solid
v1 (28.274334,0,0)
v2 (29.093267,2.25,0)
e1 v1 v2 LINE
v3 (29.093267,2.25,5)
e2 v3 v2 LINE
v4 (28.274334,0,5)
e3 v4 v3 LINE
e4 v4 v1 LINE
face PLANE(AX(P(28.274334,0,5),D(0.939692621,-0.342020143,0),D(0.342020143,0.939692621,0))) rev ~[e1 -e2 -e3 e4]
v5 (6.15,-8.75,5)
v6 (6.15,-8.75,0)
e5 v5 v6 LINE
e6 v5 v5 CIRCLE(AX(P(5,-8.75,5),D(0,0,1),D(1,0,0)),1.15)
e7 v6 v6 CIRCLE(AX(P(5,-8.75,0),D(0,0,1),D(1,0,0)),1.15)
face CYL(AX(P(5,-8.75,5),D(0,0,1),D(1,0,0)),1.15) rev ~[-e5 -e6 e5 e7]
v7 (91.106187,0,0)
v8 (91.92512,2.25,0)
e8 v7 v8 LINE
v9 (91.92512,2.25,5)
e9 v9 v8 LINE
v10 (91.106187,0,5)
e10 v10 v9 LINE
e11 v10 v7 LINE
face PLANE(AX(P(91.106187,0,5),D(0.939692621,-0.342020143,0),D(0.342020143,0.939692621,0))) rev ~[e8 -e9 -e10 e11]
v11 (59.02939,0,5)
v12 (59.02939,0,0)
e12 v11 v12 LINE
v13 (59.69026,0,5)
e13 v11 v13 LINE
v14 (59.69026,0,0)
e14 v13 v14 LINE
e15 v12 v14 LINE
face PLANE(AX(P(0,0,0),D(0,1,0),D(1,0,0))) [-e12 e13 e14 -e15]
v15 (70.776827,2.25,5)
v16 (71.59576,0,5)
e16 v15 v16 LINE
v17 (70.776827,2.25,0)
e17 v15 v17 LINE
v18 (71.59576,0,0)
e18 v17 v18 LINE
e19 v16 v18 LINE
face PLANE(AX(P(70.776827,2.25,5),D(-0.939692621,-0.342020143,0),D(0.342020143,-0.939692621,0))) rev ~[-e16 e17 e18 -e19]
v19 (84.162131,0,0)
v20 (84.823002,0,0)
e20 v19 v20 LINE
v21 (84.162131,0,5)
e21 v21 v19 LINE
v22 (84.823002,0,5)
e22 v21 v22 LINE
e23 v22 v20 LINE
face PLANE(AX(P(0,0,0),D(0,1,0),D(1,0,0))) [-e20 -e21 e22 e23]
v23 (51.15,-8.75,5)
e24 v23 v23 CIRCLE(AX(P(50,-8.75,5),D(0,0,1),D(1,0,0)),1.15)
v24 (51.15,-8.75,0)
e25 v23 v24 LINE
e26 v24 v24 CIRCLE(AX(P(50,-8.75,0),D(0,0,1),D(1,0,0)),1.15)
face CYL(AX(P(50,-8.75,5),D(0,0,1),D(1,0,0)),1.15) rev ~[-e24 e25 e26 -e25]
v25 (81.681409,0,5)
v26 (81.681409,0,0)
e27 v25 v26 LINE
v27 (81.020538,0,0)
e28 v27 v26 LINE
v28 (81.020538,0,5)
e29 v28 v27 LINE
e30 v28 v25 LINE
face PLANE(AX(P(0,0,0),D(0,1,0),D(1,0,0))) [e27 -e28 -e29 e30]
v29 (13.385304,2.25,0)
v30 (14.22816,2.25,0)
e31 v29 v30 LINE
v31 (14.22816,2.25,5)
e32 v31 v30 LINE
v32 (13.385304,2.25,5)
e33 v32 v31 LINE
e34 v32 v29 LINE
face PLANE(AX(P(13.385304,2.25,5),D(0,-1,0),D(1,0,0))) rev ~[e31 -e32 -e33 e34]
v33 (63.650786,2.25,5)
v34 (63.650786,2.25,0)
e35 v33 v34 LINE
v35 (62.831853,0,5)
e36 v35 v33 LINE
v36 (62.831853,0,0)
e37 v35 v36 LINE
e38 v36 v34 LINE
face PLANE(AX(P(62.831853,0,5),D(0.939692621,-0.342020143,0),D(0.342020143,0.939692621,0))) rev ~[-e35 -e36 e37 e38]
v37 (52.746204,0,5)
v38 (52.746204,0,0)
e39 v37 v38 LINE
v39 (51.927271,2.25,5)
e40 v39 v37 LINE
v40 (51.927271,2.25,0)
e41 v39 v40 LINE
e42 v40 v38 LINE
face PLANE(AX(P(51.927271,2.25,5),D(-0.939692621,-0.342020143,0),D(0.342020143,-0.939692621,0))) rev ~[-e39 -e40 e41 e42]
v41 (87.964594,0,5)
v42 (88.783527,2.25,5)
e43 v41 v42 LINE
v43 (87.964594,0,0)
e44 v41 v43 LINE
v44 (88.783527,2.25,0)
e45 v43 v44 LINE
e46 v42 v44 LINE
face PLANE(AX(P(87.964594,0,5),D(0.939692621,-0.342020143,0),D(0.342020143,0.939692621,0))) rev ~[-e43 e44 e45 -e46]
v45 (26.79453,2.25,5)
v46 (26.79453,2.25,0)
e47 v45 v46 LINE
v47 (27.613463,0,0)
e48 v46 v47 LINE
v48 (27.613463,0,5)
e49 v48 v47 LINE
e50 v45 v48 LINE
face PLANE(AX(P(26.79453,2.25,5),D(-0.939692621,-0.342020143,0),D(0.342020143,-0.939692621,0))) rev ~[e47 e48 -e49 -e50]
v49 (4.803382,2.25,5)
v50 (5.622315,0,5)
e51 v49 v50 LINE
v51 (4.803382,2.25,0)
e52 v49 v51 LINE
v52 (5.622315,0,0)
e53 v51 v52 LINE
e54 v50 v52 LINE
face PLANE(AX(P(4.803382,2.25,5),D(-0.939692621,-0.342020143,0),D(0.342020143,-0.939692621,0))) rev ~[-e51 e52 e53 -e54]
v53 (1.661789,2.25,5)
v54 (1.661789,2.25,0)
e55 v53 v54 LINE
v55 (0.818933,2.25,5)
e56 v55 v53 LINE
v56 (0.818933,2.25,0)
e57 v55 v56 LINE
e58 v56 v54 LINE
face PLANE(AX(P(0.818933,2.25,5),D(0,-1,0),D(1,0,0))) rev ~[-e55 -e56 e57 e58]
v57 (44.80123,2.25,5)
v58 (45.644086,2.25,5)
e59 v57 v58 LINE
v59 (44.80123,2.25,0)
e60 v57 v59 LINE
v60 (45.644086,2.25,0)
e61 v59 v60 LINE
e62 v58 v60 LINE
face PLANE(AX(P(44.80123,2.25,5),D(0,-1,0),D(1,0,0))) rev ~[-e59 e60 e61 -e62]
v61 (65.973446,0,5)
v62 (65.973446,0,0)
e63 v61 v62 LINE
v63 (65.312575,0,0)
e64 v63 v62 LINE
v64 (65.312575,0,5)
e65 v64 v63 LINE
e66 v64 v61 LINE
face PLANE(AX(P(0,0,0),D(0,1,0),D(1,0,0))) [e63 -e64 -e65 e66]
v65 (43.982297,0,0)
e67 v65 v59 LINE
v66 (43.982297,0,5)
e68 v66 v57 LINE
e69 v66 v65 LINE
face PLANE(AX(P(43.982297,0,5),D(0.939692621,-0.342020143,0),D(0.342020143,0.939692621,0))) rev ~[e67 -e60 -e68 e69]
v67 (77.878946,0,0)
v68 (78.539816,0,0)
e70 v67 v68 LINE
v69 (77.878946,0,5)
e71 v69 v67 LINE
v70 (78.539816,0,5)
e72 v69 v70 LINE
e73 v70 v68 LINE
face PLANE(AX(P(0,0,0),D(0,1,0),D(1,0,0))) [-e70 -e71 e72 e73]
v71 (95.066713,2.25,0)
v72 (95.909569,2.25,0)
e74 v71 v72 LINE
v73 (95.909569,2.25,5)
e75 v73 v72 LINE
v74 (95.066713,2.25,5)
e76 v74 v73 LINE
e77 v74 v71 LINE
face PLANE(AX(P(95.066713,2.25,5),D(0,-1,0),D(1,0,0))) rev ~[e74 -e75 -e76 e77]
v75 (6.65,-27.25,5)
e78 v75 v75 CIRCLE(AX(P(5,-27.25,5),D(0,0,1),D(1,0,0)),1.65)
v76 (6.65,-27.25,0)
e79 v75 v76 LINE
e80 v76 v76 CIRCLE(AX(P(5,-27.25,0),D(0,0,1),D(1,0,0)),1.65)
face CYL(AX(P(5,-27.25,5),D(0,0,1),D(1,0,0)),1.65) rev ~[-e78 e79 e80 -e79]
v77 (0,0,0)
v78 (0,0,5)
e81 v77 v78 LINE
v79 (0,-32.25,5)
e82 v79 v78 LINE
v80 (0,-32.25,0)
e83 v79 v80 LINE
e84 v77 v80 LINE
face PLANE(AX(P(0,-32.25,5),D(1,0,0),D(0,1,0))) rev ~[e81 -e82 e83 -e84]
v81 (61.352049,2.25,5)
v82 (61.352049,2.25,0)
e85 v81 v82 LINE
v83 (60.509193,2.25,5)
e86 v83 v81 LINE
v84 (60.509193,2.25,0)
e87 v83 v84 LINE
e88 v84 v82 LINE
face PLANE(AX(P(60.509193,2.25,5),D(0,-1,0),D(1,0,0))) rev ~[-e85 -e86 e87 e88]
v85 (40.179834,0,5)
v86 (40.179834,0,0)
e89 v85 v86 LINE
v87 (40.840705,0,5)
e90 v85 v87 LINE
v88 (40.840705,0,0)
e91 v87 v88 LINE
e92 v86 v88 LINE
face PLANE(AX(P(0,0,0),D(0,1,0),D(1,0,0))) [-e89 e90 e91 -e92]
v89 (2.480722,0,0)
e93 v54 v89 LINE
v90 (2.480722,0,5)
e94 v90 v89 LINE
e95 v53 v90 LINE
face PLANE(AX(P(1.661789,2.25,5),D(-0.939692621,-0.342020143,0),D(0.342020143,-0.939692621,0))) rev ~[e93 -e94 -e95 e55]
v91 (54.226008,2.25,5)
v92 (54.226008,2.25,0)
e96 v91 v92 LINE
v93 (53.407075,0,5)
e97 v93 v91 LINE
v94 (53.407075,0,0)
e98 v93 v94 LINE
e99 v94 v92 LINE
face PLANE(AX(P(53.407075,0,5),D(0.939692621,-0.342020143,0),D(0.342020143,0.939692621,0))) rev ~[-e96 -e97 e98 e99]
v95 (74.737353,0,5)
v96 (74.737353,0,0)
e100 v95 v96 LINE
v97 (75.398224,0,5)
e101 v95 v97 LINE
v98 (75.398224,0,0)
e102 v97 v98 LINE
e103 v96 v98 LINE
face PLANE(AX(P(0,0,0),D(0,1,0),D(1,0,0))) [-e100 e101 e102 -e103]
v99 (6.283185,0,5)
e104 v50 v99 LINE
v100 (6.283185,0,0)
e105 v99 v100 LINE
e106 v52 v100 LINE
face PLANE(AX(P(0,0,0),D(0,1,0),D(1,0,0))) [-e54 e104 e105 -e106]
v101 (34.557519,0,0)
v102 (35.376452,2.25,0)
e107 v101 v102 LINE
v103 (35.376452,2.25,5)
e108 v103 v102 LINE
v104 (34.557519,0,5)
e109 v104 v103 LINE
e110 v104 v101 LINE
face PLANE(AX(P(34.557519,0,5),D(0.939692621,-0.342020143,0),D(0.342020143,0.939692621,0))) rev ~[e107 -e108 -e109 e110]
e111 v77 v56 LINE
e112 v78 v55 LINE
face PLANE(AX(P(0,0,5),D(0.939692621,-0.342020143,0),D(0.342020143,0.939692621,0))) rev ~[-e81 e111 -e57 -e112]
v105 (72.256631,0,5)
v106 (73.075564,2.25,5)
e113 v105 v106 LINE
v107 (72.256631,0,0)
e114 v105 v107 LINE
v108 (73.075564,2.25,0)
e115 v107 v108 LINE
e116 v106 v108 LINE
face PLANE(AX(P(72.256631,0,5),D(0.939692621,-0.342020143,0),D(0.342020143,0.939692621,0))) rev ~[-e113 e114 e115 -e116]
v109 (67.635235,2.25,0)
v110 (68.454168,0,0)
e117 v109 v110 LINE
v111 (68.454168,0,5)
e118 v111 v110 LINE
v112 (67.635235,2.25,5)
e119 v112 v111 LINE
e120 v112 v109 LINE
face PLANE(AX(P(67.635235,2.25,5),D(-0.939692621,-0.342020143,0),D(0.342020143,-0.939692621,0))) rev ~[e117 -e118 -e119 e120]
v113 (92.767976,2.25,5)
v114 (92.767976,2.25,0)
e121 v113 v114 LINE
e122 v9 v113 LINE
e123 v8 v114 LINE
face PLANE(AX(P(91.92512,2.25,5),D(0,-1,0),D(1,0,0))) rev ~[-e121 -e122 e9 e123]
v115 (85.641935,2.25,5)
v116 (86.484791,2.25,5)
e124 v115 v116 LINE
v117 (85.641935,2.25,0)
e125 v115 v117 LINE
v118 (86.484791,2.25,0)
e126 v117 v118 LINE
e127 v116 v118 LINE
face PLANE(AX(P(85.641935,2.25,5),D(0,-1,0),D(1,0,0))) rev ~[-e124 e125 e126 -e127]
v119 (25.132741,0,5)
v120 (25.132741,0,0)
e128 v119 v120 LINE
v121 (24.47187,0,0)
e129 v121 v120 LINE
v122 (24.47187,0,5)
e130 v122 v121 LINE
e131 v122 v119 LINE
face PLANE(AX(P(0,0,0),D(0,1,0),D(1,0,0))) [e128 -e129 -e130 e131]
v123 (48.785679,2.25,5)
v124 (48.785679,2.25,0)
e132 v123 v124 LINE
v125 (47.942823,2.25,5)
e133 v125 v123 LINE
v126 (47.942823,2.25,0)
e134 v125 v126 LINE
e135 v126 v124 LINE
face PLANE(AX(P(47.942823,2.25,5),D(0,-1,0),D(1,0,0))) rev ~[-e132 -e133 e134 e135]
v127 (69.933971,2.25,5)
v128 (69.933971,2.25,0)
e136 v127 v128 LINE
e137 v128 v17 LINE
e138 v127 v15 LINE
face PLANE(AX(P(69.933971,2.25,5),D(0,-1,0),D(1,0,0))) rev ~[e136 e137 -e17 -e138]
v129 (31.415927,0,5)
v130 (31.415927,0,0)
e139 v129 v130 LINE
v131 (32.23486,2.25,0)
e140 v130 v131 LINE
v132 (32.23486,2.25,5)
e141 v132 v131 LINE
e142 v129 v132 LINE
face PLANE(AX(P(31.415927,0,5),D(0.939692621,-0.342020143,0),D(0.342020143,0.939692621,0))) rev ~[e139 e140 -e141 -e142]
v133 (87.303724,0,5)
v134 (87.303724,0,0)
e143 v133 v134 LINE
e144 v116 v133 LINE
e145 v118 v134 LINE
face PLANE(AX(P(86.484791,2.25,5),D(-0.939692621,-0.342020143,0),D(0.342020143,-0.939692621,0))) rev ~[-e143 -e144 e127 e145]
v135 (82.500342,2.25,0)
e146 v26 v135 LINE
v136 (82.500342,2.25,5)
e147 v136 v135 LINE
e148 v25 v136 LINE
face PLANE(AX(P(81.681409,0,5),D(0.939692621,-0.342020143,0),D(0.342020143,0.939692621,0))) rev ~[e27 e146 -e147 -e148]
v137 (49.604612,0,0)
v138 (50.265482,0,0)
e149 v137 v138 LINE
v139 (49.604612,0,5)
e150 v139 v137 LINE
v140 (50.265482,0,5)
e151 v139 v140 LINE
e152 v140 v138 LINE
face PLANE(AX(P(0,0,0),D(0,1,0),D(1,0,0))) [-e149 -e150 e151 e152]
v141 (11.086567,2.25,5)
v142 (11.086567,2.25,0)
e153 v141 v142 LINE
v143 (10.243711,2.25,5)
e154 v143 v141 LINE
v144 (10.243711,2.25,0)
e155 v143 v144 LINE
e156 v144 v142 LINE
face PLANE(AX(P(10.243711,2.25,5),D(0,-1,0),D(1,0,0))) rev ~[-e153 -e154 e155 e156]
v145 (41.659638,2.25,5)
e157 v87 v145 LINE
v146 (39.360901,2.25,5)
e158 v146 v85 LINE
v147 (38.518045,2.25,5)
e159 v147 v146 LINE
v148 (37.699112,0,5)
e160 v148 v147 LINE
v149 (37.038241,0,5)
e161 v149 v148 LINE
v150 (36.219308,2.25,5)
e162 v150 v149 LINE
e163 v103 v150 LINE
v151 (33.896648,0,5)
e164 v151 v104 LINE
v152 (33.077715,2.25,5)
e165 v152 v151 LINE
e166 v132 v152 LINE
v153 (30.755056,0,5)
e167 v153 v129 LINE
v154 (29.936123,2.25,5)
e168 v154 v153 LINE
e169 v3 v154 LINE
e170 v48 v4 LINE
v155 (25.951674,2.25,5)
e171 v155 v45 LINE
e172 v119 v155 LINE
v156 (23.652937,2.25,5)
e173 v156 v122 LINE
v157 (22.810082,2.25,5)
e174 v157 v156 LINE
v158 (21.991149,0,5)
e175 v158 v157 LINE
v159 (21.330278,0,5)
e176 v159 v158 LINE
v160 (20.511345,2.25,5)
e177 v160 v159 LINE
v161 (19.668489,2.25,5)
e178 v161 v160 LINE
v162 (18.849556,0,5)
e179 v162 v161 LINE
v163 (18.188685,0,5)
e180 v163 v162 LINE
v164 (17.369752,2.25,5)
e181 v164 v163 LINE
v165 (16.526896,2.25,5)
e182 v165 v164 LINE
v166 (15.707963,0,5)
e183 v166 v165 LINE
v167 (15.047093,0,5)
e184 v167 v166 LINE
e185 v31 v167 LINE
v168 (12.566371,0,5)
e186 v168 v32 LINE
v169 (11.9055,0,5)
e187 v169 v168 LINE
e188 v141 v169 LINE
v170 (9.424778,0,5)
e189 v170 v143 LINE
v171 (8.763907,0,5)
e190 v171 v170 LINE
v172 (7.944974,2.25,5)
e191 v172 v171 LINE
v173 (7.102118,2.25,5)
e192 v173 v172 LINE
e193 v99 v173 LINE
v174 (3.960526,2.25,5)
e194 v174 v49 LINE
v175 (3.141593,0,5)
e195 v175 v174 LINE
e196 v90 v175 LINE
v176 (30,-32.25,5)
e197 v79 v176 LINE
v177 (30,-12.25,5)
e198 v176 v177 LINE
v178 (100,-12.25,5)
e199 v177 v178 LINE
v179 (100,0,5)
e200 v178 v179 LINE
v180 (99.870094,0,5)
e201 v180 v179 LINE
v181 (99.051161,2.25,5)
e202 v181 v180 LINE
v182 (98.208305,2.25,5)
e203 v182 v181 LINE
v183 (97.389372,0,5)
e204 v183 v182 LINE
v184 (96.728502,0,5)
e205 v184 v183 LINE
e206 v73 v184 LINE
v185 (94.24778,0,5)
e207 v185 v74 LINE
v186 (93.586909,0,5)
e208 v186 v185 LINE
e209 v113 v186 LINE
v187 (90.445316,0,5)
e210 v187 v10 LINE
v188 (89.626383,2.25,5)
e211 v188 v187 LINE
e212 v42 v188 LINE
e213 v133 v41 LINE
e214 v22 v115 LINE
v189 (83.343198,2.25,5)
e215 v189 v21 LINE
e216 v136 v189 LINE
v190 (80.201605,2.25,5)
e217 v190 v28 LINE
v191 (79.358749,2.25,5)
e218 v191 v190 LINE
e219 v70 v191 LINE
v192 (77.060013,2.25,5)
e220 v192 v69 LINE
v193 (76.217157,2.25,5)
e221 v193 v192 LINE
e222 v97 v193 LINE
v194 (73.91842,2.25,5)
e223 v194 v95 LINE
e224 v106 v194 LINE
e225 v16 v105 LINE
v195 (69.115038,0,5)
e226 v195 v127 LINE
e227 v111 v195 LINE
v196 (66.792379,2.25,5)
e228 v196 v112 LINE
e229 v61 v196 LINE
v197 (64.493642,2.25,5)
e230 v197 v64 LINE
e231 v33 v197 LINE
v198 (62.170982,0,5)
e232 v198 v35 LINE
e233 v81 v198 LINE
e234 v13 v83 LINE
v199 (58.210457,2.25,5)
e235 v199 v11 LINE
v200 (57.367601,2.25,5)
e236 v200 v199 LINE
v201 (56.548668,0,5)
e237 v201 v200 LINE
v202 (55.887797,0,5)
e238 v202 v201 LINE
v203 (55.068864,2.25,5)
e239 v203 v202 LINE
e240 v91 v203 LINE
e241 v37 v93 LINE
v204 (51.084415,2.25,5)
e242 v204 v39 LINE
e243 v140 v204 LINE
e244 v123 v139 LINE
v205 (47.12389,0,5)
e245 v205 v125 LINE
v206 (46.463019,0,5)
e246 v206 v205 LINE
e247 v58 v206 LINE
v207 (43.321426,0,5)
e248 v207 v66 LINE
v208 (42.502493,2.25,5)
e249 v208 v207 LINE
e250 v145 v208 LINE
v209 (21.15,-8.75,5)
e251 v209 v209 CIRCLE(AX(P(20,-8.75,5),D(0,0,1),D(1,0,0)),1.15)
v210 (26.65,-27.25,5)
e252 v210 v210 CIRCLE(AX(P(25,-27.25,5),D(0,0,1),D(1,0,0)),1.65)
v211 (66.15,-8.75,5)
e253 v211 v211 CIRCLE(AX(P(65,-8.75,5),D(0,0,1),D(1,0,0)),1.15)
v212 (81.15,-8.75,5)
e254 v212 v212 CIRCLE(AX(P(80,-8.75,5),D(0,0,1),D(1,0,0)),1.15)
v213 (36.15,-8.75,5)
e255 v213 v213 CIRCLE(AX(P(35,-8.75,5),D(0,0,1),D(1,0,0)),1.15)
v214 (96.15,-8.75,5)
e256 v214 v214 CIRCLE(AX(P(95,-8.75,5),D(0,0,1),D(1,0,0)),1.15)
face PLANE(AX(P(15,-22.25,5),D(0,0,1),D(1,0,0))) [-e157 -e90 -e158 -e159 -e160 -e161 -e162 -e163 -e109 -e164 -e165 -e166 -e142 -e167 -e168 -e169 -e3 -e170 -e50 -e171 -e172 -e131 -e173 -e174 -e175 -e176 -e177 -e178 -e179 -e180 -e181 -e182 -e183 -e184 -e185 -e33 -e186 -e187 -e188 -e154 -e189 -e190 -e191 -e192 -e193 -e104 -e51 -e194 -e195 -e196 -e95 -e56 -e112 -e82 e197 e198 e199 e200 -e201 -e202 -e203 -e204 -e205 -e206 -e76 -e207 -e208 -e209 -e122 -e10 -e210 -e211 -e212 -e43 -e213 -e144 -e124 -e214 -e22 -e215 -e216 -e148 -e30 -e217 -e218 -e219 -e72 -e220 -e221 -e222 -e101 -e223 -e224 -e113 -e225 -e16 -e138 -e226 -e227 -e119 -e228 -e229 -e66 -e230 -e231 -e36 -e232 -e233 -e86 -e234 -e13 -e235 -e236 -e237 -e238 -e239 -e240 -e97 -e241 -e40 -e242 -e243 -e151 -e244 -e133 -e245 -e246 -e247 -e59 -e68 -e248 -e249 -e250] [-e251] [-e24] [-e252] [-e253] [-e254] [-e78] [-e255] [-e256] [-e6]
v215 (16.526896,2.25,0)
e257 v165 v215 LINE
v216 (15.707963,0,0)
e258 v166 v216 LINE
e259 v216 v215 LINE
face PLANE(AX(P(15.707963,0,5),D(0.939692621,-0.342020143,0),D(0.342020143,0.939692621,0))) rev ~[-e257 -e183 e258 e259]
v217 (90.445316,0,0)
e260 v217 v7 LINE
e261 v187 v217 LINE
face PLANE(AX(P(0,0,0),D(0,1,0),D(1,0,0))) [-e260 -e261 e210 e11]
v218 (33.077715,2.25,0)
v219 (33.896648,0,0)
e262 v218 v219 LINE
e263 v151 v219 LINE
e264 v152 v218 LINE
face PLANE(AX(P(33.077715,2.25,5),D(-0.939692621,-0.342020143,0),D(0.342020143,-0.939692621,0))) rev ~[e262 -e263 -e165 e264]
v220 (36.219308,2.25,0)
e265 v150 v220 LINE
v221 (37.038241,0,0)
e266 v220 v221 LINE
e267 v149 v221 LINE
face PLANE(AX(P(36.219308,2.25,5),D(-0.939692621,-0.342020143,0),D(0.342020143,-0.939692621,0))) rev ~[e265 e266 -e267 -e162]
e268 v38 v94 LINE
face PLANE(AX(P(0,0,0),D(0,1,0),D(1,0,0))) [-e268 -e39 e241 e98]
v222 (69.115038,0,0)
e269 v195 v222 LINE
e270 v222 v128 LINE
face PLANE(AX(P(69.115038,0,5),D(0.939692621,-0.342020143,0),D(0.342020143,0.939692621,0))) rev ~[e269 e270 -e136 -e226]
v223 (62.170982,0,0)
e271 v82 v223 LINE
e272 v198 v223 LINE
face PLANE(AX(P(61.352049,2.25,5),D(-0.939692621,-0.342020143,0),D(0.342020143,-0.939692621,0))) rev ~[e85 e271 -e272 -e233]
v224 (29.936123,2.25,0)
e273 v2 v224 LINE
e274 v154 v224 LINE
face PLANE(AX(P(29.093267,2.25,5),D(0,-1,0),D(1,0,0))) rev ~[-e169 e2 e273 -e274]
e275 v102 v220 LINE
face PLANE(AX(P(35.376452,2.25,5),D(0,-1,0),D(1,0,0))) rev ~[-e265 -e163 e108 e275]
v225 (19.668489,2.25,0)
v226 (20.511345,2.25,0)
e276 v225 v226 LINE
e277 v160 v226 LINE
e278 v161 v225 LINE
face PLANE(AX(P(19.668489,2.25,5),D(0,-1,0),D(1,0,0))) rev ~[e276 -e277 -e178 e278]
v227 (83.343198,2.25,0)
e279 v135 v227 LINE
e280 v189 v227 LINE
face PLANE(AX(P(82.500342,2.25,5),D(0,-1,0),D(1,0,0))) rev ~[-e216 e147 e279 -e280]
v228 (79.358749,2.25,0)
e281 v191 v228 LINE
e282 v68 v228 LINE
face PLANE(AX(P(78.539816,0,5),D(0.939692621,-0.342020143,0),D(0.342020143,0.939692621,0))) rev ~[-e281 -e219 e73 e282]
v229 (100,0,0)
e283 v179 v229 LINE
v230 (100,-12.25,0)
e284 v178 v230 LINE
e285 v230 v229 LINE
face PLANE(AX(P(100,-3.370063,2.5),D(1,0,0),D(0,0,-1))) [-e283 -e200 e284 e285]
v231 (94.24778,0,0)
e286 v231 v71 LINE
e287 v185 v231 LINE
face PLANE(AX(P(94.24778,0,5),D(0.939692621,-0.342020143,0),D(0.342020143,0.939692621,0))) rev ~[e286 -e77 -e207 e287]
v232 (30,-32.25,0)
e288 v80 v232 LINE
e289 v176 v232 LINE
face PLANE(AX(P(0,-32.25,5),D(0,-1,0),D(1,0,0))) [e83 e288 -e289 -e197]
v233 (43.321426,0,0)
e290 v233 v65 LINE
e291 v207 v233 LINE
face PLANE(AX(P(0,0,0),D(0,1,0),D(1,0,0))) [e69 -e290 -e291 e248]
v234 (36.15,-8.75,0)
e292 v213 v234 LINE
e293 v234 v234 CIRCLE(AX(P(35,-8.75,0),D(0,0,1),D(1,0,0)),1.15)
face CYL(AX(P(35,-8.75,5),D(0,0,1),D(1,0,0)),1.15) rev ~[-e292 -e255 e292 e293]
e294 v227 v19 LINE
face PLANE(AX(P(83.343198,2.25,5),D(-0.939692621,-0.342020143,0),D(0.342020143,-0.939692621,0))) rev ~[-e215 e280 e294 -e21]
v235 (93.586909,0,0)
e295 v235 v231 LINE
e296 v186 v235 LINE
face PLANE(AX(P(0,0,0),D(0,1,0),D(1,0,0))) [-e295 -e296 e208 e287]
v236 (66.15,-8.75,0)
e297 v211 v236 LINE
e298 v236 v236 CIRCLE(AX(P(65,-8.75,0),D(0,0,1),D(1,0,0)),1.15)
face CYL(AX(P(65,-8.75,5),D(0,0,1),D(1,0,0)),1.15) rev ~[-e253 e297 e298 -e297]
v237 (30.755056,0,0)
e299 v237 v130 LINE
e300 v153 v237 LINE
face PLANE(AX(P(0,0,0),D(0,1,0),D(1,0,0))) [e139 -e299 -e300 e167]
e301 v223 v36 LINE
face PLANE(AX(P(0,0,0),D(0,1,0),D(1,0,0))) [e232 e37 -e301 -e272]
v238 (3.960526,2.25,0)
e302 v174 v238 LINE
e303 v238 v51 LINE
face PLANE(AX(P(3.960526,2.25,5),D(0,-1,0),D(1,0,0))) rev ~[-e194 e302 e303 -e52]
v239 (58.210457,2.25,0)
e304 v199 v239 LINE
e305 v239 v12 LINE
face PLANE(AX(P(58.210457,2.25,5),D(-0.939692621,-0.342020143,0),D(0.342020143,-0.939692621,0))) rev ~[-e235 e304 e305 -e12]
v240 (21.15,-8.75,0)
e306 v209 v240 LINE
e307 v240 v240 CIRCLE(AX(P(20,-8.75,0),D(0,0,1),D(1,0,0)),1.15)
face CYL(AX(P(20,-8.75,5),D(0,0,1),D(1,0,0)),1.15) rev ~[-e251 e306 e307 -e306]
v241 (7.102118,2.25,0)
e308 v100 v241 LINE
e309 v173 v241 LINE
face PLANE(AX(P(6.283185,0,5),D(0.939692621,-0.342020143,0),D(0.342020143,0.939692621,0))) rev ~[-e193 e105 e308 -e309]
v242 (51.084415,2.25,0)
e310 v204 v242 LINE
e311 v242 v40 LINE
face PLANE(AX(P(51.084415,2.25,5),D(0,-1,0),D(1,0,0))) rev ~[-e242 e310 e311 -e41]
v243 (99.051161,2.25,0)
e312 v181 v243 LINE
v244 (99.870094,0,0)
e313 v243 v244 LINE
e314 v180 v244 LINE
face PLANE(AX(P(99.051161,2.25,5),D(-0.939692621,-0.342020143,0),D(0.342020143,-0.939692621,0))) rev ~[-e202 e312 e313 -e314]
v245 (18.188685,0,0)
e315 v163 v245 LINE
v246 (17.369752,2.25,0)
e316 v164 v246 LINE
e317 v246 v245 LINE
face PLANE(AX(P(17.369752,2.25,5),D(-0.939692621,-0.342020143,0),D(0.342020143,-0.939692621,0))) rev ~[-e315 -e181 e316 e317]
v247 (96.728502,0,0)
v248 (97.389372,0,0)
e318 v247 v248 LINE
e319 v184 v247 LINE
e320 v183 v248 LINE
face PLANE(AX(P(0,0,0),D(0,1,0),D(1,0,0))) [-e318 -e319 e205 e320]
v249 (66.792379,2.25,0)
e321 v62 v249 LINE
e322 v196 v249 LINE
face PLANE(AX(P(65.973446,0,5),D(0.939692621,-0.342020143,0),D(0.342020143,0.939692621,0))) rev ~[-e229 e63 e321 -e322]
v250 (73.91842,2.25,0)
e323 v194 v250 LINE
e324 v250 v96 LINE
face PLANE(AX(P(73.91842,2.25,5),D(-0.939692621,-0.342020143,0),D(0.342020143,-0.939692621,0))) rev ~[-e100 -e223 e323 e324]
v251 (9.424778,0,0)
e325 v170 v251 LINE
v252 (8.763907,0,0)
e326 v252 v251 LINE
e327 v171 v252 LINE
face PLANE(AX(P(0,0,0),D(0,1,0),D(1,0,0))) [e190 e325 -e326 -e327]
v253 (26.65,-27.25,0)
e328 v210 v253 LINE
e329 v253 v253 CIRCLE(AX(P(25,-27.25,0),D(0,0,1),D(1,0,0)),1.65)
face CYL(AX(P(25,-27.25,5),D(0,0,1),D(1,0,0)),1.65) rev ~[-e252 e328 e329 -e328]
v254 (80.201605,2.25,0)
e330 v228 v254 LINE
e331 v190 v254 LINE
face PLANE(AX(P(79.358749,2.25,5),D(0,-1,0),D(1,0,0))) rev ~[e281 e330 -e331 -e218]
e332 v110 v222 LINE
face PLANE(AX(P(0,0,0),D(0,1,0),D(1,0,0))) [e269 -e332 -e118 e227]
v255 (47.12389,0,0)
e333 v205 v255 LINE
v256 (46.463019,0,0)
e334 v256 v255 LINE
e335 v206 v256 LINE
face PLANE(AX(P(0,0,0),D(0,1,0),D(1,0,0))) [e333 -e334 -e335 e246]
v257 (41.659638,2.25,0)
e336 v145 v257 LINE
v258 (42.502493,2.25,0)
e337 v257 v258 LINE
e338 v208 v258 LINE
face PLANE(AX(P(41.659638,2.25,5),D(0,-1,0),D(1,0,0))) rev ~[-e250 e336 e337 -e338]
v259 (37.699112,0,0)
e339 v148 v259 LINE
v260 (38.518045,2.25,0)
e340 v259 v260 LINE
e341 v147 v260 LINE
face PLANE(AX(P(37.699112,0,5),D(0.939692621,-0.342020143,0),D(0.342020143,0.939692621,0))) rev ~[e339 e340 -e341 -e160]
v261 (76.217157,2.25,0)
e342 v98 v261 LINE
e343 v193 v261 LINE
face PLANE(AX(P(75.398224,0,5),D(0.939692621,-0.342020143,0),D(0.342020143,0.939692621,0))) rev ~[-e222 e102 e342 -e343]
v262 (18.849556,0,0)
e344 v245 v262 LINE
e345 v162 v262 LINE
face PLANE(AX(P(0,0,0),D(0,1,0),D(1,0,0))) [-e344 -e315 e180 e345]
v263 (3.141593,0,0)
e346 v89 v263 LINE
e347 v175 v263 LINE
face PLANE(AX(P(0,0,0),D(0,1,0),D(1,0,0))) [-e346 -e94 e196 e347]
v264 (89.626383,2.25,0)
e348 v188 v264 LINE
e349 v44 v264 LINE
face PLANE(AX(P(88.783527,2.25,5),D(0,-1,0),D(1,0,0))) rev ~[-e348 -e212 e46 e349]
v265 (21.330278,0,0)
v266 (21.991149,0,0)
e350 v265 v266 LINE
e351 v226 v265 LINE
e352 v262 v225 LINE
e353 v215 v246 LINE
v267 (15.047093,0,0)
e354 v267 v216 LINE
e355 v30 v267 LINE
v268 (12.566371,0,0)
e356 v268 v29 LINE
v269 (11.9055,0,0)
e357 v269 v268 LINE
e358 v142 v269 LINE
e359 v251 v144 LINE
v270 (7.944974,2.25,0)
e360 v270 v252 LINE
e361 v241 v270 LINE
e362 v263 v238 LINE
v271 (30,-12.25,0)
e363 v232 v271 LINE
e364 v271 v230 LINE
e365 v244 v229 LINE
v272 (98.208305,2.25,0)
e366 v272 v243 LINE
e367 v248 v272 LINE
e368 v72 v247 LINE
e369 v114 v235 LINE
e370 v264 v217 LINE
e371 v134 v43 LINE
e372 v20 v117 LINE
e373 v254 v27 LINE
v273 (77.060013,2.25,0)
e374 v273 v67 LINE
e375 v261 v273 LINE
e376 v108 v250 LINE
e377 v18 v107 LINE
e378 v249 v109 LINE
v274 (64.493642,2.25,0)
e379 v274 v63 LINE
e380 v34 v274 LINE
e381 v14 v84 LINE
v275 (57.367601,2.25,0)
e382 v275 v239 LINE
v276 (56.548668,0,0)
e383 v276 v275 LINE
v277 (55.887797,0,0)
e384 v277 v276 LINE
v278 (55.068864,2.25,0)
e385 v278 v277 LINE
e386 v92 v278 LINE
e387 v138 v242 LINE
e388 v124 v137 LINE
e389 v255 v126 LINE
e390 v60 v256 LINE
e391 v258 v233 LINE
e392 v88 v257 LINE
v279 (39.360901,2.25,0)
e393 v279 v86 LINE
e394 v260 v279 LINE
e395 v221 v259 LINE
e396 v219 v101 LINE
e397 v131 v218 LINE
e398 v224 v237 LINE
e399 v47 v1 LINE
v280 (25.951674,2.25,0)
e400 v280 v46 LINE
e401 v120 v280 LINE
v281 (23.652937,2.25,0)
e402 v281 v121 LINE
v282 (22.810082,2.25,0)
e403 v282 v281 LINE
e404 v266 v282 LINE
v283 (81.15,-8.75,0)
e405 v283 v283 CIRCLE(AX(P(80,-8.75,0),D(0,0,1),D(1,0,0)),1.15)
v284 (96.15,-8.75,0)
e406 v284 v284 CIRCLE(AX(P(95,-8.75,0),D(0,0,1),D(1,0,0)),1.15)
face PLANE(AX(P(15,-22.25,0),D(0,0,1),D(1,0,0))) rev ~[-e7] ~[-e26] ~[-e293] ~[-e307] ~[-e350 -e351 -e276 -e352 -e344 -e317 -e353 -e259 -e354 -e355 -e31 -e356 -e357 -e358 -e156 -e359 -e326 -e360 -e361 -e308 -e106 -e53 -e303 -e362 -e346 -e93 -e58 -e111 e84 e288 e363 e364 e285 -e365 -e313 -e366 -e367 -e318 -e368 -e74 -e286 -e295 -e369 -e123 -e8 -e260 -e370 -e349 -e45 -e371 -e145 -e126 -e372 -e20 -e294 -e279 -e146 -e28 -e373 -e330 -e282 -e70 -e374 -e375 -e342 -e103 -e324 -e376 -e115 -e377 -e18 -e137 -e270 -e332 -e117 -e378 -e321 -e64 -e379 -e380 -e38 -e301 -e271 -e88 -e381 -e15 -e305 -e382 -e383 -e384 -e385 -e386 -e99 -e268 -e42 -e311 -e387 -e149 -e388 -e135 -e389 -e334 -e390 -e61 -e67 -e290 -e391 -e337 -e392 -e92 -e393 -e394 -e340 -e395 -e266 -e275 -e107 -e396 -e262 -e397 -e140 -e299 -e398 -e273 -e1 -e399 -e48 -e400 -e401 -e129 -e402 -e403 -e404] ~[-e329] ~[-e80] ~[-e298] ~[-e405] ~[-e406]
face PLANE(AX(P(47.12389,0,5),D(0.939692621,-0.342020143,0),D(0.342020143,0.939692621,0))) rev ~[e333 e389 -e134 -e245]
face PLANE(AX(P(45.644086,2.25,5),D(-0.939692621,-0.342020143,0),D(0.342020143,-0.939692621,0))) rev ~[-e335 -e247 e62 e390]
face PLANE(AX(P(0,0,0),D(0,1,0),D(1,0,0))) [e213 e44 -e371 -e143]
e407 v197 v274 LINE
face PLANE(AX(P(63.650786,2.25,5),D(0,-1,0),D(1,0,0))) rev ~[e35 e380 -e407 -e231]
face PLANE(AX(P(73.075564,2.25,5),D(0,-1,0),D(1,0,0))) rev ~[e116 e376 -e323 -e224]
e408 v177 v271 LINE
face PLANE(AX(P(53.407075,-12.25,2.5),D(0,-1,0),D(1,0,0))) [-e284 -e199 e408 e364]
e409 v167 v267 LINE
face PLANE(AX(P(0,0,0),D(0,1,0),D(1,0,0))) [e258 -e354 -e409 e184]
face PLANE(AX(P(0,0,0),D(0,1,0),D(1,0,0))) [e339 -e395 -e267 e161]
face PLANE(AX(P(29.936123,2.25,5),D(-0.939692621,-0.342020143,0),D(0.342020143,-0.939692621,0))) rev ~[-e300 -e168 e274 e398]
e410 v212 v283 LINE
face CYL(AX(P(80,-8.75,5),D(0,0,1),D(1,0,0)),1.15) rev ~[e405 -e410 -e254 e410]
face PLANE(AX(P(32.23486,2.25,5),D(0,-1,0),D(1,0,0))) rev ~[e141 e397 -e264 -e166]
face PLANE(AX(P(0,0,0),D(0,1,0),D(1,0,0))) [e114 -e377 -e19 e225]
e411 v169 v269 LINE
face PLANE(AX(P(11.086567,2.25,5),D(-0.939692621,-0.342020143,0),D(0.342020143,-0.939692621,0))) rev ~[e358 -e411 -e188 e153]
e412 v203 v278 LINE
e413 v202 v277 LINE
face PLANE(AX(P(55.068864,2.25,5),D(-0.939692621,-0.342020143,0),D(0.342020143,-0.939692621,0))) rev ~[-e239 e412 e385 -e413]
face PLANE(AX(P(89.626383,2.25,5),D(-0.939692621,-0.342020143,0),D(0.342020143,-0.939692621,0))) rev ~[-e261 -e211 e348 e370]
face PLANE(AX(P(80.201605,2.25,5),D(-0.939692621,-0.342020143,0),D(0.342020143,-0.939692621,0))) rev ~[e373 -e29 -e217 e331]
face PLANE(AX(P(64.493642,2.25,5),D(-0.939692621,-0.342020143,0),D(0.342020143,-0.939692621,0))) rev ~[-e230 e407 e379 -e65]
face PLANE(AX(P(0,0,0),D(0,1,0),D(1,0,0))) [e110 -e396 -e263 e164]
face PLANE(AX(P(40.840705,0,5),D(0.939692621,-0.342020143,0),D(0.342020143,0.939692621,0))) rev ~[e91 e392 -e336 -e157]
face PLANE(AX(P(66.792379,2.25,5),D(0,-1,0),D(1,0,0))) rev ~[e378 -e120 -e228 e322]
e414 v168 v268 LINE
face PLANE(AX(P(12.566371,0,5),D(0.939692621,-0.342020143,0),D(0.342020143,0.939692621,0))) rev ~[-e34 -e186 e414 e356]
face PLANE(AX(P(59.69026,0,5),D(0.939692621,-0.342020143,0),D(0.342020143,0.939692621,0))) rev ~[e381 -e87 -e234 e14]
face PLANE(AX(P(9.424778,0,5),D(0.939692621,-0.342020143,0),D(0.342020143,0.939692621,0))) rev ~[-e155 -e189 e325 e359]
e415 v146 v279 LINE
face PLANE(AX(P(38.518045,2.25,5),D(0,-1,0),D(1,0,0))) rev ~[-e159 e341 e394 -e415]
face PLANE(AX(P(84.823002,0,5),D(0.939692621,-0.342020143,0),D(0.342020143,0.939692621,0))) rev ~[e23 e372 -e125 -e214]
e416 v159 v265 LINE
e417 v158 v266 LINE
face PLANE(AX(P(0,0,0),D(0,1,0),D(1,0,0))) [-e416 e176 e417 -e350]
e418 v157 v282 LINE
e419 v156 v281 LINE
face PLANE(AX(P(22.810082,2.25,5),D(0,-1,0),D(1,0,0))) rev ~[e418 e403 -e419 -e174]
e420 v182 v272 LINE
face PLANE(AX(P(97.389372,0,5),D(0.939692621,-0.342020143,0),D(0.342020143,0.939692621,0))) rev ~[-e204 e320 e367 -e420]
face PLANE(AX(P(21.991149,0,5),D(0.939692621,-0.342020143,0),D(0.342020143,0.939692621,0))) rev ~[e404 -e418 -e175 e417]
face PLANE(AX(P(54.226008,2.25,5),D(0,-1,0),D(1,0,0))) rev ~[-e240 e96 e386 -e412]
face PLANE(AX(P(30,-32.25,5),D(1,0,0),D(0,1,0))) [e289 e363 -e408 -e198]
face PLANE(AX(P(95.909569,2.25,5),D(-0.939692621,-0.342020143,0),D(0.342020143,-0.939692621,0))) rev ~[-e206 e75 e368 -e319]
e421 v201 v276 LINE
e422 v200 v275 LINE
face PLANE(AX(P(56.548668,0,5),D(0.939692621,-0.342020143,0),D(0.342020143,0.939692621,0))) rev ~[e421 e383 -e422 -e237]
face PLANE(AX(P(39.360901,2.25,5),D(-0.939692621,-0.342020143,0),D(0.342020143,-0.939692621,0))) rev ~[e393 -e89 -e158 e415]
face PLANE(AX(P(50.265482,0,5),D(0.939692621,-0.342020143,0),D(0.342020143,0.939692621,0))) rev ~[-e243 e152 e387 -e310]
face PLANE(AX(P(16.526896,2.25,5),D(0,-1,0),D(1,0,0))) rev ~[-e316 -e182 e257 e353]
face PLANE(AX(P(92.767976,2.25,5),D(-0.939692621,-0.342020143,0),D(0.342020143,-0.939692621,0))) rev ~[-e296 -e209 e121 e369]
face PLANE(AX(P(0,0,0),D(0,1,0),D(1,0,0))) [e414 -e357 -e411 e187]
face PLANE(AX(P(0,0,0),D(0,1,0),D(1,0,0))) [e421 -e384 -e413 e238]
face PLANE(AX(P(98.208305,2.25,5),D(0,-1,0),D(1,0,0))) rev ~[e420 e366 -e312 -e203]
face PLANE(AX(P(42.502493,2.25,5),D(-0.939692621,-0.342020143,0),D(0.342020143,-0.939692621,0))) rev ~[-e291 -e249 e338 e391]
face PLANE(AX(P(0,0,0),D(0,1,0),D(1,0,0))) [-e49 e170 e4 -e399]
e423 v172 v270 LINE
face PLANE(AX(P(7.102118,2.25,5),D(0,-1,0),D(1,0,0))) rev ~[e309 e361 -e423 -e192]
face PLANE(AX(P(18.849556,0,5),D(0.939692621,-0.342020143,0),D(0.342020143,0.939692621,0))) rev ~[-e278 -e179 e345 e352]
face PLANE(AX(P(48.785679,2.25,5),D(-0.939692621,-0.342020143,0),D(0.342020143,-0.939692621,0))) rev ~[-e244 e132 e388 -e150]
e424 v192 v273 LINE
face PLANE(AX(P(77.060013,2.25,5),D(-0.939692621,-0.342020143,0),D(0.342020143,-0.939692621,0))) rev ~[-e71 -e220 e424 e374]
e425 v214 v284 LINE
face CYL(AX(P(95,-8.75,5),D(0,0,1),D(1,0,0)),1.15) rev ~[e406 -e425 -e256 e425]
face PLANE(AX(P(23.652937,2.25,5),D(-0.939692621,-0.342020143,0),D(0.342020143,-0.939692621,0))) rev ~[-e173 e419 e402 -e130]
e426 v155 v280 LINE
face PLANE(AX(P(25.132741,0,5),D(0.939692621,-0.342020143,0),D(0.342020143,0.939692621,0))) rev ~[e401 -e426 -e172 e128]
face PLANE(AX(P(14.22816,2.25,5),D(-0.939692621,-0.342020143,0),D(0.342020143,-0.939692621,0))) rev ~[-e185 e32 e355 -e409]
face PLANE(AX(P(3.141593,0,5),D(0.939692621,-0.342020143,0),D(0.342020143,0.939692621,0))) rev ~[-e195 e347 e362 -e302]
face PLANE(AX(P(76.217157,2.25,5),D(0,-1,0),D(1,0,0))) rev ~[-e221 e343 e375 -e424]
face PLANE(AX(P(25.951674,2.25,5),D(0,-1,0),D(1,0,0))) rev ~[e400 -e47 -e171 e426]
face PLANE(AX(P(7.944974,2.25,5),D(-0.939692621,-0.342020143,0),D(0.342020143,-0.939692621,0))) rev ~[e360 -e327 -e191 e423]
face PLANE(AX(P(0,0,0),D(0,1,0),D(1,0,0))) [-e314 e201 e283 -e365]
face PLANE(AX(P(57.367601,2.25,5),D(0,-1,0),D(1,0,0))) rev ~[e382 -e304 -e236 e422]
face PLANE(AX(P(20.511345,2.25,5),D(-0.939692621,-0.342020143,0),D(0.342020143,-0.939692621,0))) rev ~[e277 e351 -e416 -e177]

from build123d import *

# Parameters (mm, degrees)
SKETCH1_W           = 106.814150222
SKETCH1_H           = 8
EXTRUDE1_DEPTH      = 5
EXTRUDE2_DEPTH      = 5
LPATTERN1_COUNT     = 34
LPATTERN1_PITCH     = 3.141592654
SKETCH_2_W          = 106.814150222
SKETCH_2_H          = 5
EXTRUDE_1_DEPTH     = 4.25
SKETCH_3_W          = 5
SKETCH_3_H          = 17.759873191
CUT_EXTRUDE_1_DEPTH = 6.814150222
SKETCH_4_R          = 1.15
CUT_EXTRUDE_2_DEPTH = 101.87151481
SKETCH_5_W          = 30
SKETCH_5_H          = 20
EXTRUDE_2_DEPTH     = 5
SKETCH_6_R          = 1.65
CUT_EXTRUDE_3_DEPTH = 13


with BuildPart() as part:
    # Sketch1 → Extrude1 (new body)
    with BuildSketch(Plane.XY):
        with Locations((53.407075111, -4)):
            Rectangle(SKETCH1_W, SKETCH1_H)
    extrude(amount=EXTRUDE1_DEPTH)

    # Sketch2 → Extrude2 (add)
    with BuildSketch(Plane.XY.offset(5)):
        Polygon((0, 0), (0.818933027, 2.25), (1.661788885, 2.25), (2.480721912, 0), align=None)
    extrude2 = extrude(amount=-EXTRUDE2_DEPTH)

    # LPattern1: Extrude2 ×34
    with Locations(*[(i * LPATTERN1_PITCH, 0, 0) for i in range(1, LPATTERN1_COUNT)]):
        add(extrude2)

    # 草图2 → 凸台-拉伸1 (add)
    with BuildSketch(Plane.XZ.offset(8)):
        with Locations((53.407075111, 2.5)):
            Rectangle(SKETCH_2_W, SKETCH_2_H)
    extrude(amount=EXTRUDE_1_DEPTH)

    # 草图3 → 切除-拉伸1 (cut)
    with BuildSketch(Plane(origin=(106.814150222, 0, 0), x_dir=(0, 0, -1), z_dir=(1, 0, 0))):
        with Locations((-2.5, -3.370063404)):
            Rectangle(SKETCH_3_W, SKETCH_3_H)
    extrude(amount=-CUT_EXTRUDE_1_DEPTH, mode=Mode.SUBTRACT)

    # 草图4 → 切除-拉伸2 (cut, through all)
    with BuildSketch(Plane.XY.offset(5)):
        with Locations((5, -8.75)):
            Circle(SKETCH_4_R)
        with Locations((20, -8.75)):
            Circle(SKETCH_4_R)
        with Locations((35, -8.75)):
            Circle(SKETCH_4_R)
        with Locations((50, -8.75)):
            Circle(SKETCH_4_R)
        with Locations((65, -8.75)):
            Circle(SKETCH_4_R)
        with Locations((80, -8.75)):
            Circle(SKETCH_4_R)
        with Locations((95, -8.75)):
            Circle(SKETCH_4_R)
    extrude(amount=-CUT_EXTRUDE_2_DEPTH, mode=Mode.SUBTRACT)

    # 草图5 → 凸台-拉伸2 (add)
    with BuildSketch(Plane.XY.offset(5)):
        with Locations((15, -22.25)):
            Rectangle(SKETCH_5_W, SKETCH_5_H)
    extrude(amount=-EXTRUDE_2_DEPTH)

    # 草图6 → 切除-拉伸3 (cut)
    with BuildSketch(Plane.XY.offset(5)):
        with Locations((25, -27.25)):
            Circle(SKETCH_6_R)
        with Locations((5, -27.25)):
            Circle(SKETCH_6_R)
    extrude(amount=-CUT_EXTRUDE_3_DEPTH, mode=Mode.SUBTRACT)


solid = part.part
